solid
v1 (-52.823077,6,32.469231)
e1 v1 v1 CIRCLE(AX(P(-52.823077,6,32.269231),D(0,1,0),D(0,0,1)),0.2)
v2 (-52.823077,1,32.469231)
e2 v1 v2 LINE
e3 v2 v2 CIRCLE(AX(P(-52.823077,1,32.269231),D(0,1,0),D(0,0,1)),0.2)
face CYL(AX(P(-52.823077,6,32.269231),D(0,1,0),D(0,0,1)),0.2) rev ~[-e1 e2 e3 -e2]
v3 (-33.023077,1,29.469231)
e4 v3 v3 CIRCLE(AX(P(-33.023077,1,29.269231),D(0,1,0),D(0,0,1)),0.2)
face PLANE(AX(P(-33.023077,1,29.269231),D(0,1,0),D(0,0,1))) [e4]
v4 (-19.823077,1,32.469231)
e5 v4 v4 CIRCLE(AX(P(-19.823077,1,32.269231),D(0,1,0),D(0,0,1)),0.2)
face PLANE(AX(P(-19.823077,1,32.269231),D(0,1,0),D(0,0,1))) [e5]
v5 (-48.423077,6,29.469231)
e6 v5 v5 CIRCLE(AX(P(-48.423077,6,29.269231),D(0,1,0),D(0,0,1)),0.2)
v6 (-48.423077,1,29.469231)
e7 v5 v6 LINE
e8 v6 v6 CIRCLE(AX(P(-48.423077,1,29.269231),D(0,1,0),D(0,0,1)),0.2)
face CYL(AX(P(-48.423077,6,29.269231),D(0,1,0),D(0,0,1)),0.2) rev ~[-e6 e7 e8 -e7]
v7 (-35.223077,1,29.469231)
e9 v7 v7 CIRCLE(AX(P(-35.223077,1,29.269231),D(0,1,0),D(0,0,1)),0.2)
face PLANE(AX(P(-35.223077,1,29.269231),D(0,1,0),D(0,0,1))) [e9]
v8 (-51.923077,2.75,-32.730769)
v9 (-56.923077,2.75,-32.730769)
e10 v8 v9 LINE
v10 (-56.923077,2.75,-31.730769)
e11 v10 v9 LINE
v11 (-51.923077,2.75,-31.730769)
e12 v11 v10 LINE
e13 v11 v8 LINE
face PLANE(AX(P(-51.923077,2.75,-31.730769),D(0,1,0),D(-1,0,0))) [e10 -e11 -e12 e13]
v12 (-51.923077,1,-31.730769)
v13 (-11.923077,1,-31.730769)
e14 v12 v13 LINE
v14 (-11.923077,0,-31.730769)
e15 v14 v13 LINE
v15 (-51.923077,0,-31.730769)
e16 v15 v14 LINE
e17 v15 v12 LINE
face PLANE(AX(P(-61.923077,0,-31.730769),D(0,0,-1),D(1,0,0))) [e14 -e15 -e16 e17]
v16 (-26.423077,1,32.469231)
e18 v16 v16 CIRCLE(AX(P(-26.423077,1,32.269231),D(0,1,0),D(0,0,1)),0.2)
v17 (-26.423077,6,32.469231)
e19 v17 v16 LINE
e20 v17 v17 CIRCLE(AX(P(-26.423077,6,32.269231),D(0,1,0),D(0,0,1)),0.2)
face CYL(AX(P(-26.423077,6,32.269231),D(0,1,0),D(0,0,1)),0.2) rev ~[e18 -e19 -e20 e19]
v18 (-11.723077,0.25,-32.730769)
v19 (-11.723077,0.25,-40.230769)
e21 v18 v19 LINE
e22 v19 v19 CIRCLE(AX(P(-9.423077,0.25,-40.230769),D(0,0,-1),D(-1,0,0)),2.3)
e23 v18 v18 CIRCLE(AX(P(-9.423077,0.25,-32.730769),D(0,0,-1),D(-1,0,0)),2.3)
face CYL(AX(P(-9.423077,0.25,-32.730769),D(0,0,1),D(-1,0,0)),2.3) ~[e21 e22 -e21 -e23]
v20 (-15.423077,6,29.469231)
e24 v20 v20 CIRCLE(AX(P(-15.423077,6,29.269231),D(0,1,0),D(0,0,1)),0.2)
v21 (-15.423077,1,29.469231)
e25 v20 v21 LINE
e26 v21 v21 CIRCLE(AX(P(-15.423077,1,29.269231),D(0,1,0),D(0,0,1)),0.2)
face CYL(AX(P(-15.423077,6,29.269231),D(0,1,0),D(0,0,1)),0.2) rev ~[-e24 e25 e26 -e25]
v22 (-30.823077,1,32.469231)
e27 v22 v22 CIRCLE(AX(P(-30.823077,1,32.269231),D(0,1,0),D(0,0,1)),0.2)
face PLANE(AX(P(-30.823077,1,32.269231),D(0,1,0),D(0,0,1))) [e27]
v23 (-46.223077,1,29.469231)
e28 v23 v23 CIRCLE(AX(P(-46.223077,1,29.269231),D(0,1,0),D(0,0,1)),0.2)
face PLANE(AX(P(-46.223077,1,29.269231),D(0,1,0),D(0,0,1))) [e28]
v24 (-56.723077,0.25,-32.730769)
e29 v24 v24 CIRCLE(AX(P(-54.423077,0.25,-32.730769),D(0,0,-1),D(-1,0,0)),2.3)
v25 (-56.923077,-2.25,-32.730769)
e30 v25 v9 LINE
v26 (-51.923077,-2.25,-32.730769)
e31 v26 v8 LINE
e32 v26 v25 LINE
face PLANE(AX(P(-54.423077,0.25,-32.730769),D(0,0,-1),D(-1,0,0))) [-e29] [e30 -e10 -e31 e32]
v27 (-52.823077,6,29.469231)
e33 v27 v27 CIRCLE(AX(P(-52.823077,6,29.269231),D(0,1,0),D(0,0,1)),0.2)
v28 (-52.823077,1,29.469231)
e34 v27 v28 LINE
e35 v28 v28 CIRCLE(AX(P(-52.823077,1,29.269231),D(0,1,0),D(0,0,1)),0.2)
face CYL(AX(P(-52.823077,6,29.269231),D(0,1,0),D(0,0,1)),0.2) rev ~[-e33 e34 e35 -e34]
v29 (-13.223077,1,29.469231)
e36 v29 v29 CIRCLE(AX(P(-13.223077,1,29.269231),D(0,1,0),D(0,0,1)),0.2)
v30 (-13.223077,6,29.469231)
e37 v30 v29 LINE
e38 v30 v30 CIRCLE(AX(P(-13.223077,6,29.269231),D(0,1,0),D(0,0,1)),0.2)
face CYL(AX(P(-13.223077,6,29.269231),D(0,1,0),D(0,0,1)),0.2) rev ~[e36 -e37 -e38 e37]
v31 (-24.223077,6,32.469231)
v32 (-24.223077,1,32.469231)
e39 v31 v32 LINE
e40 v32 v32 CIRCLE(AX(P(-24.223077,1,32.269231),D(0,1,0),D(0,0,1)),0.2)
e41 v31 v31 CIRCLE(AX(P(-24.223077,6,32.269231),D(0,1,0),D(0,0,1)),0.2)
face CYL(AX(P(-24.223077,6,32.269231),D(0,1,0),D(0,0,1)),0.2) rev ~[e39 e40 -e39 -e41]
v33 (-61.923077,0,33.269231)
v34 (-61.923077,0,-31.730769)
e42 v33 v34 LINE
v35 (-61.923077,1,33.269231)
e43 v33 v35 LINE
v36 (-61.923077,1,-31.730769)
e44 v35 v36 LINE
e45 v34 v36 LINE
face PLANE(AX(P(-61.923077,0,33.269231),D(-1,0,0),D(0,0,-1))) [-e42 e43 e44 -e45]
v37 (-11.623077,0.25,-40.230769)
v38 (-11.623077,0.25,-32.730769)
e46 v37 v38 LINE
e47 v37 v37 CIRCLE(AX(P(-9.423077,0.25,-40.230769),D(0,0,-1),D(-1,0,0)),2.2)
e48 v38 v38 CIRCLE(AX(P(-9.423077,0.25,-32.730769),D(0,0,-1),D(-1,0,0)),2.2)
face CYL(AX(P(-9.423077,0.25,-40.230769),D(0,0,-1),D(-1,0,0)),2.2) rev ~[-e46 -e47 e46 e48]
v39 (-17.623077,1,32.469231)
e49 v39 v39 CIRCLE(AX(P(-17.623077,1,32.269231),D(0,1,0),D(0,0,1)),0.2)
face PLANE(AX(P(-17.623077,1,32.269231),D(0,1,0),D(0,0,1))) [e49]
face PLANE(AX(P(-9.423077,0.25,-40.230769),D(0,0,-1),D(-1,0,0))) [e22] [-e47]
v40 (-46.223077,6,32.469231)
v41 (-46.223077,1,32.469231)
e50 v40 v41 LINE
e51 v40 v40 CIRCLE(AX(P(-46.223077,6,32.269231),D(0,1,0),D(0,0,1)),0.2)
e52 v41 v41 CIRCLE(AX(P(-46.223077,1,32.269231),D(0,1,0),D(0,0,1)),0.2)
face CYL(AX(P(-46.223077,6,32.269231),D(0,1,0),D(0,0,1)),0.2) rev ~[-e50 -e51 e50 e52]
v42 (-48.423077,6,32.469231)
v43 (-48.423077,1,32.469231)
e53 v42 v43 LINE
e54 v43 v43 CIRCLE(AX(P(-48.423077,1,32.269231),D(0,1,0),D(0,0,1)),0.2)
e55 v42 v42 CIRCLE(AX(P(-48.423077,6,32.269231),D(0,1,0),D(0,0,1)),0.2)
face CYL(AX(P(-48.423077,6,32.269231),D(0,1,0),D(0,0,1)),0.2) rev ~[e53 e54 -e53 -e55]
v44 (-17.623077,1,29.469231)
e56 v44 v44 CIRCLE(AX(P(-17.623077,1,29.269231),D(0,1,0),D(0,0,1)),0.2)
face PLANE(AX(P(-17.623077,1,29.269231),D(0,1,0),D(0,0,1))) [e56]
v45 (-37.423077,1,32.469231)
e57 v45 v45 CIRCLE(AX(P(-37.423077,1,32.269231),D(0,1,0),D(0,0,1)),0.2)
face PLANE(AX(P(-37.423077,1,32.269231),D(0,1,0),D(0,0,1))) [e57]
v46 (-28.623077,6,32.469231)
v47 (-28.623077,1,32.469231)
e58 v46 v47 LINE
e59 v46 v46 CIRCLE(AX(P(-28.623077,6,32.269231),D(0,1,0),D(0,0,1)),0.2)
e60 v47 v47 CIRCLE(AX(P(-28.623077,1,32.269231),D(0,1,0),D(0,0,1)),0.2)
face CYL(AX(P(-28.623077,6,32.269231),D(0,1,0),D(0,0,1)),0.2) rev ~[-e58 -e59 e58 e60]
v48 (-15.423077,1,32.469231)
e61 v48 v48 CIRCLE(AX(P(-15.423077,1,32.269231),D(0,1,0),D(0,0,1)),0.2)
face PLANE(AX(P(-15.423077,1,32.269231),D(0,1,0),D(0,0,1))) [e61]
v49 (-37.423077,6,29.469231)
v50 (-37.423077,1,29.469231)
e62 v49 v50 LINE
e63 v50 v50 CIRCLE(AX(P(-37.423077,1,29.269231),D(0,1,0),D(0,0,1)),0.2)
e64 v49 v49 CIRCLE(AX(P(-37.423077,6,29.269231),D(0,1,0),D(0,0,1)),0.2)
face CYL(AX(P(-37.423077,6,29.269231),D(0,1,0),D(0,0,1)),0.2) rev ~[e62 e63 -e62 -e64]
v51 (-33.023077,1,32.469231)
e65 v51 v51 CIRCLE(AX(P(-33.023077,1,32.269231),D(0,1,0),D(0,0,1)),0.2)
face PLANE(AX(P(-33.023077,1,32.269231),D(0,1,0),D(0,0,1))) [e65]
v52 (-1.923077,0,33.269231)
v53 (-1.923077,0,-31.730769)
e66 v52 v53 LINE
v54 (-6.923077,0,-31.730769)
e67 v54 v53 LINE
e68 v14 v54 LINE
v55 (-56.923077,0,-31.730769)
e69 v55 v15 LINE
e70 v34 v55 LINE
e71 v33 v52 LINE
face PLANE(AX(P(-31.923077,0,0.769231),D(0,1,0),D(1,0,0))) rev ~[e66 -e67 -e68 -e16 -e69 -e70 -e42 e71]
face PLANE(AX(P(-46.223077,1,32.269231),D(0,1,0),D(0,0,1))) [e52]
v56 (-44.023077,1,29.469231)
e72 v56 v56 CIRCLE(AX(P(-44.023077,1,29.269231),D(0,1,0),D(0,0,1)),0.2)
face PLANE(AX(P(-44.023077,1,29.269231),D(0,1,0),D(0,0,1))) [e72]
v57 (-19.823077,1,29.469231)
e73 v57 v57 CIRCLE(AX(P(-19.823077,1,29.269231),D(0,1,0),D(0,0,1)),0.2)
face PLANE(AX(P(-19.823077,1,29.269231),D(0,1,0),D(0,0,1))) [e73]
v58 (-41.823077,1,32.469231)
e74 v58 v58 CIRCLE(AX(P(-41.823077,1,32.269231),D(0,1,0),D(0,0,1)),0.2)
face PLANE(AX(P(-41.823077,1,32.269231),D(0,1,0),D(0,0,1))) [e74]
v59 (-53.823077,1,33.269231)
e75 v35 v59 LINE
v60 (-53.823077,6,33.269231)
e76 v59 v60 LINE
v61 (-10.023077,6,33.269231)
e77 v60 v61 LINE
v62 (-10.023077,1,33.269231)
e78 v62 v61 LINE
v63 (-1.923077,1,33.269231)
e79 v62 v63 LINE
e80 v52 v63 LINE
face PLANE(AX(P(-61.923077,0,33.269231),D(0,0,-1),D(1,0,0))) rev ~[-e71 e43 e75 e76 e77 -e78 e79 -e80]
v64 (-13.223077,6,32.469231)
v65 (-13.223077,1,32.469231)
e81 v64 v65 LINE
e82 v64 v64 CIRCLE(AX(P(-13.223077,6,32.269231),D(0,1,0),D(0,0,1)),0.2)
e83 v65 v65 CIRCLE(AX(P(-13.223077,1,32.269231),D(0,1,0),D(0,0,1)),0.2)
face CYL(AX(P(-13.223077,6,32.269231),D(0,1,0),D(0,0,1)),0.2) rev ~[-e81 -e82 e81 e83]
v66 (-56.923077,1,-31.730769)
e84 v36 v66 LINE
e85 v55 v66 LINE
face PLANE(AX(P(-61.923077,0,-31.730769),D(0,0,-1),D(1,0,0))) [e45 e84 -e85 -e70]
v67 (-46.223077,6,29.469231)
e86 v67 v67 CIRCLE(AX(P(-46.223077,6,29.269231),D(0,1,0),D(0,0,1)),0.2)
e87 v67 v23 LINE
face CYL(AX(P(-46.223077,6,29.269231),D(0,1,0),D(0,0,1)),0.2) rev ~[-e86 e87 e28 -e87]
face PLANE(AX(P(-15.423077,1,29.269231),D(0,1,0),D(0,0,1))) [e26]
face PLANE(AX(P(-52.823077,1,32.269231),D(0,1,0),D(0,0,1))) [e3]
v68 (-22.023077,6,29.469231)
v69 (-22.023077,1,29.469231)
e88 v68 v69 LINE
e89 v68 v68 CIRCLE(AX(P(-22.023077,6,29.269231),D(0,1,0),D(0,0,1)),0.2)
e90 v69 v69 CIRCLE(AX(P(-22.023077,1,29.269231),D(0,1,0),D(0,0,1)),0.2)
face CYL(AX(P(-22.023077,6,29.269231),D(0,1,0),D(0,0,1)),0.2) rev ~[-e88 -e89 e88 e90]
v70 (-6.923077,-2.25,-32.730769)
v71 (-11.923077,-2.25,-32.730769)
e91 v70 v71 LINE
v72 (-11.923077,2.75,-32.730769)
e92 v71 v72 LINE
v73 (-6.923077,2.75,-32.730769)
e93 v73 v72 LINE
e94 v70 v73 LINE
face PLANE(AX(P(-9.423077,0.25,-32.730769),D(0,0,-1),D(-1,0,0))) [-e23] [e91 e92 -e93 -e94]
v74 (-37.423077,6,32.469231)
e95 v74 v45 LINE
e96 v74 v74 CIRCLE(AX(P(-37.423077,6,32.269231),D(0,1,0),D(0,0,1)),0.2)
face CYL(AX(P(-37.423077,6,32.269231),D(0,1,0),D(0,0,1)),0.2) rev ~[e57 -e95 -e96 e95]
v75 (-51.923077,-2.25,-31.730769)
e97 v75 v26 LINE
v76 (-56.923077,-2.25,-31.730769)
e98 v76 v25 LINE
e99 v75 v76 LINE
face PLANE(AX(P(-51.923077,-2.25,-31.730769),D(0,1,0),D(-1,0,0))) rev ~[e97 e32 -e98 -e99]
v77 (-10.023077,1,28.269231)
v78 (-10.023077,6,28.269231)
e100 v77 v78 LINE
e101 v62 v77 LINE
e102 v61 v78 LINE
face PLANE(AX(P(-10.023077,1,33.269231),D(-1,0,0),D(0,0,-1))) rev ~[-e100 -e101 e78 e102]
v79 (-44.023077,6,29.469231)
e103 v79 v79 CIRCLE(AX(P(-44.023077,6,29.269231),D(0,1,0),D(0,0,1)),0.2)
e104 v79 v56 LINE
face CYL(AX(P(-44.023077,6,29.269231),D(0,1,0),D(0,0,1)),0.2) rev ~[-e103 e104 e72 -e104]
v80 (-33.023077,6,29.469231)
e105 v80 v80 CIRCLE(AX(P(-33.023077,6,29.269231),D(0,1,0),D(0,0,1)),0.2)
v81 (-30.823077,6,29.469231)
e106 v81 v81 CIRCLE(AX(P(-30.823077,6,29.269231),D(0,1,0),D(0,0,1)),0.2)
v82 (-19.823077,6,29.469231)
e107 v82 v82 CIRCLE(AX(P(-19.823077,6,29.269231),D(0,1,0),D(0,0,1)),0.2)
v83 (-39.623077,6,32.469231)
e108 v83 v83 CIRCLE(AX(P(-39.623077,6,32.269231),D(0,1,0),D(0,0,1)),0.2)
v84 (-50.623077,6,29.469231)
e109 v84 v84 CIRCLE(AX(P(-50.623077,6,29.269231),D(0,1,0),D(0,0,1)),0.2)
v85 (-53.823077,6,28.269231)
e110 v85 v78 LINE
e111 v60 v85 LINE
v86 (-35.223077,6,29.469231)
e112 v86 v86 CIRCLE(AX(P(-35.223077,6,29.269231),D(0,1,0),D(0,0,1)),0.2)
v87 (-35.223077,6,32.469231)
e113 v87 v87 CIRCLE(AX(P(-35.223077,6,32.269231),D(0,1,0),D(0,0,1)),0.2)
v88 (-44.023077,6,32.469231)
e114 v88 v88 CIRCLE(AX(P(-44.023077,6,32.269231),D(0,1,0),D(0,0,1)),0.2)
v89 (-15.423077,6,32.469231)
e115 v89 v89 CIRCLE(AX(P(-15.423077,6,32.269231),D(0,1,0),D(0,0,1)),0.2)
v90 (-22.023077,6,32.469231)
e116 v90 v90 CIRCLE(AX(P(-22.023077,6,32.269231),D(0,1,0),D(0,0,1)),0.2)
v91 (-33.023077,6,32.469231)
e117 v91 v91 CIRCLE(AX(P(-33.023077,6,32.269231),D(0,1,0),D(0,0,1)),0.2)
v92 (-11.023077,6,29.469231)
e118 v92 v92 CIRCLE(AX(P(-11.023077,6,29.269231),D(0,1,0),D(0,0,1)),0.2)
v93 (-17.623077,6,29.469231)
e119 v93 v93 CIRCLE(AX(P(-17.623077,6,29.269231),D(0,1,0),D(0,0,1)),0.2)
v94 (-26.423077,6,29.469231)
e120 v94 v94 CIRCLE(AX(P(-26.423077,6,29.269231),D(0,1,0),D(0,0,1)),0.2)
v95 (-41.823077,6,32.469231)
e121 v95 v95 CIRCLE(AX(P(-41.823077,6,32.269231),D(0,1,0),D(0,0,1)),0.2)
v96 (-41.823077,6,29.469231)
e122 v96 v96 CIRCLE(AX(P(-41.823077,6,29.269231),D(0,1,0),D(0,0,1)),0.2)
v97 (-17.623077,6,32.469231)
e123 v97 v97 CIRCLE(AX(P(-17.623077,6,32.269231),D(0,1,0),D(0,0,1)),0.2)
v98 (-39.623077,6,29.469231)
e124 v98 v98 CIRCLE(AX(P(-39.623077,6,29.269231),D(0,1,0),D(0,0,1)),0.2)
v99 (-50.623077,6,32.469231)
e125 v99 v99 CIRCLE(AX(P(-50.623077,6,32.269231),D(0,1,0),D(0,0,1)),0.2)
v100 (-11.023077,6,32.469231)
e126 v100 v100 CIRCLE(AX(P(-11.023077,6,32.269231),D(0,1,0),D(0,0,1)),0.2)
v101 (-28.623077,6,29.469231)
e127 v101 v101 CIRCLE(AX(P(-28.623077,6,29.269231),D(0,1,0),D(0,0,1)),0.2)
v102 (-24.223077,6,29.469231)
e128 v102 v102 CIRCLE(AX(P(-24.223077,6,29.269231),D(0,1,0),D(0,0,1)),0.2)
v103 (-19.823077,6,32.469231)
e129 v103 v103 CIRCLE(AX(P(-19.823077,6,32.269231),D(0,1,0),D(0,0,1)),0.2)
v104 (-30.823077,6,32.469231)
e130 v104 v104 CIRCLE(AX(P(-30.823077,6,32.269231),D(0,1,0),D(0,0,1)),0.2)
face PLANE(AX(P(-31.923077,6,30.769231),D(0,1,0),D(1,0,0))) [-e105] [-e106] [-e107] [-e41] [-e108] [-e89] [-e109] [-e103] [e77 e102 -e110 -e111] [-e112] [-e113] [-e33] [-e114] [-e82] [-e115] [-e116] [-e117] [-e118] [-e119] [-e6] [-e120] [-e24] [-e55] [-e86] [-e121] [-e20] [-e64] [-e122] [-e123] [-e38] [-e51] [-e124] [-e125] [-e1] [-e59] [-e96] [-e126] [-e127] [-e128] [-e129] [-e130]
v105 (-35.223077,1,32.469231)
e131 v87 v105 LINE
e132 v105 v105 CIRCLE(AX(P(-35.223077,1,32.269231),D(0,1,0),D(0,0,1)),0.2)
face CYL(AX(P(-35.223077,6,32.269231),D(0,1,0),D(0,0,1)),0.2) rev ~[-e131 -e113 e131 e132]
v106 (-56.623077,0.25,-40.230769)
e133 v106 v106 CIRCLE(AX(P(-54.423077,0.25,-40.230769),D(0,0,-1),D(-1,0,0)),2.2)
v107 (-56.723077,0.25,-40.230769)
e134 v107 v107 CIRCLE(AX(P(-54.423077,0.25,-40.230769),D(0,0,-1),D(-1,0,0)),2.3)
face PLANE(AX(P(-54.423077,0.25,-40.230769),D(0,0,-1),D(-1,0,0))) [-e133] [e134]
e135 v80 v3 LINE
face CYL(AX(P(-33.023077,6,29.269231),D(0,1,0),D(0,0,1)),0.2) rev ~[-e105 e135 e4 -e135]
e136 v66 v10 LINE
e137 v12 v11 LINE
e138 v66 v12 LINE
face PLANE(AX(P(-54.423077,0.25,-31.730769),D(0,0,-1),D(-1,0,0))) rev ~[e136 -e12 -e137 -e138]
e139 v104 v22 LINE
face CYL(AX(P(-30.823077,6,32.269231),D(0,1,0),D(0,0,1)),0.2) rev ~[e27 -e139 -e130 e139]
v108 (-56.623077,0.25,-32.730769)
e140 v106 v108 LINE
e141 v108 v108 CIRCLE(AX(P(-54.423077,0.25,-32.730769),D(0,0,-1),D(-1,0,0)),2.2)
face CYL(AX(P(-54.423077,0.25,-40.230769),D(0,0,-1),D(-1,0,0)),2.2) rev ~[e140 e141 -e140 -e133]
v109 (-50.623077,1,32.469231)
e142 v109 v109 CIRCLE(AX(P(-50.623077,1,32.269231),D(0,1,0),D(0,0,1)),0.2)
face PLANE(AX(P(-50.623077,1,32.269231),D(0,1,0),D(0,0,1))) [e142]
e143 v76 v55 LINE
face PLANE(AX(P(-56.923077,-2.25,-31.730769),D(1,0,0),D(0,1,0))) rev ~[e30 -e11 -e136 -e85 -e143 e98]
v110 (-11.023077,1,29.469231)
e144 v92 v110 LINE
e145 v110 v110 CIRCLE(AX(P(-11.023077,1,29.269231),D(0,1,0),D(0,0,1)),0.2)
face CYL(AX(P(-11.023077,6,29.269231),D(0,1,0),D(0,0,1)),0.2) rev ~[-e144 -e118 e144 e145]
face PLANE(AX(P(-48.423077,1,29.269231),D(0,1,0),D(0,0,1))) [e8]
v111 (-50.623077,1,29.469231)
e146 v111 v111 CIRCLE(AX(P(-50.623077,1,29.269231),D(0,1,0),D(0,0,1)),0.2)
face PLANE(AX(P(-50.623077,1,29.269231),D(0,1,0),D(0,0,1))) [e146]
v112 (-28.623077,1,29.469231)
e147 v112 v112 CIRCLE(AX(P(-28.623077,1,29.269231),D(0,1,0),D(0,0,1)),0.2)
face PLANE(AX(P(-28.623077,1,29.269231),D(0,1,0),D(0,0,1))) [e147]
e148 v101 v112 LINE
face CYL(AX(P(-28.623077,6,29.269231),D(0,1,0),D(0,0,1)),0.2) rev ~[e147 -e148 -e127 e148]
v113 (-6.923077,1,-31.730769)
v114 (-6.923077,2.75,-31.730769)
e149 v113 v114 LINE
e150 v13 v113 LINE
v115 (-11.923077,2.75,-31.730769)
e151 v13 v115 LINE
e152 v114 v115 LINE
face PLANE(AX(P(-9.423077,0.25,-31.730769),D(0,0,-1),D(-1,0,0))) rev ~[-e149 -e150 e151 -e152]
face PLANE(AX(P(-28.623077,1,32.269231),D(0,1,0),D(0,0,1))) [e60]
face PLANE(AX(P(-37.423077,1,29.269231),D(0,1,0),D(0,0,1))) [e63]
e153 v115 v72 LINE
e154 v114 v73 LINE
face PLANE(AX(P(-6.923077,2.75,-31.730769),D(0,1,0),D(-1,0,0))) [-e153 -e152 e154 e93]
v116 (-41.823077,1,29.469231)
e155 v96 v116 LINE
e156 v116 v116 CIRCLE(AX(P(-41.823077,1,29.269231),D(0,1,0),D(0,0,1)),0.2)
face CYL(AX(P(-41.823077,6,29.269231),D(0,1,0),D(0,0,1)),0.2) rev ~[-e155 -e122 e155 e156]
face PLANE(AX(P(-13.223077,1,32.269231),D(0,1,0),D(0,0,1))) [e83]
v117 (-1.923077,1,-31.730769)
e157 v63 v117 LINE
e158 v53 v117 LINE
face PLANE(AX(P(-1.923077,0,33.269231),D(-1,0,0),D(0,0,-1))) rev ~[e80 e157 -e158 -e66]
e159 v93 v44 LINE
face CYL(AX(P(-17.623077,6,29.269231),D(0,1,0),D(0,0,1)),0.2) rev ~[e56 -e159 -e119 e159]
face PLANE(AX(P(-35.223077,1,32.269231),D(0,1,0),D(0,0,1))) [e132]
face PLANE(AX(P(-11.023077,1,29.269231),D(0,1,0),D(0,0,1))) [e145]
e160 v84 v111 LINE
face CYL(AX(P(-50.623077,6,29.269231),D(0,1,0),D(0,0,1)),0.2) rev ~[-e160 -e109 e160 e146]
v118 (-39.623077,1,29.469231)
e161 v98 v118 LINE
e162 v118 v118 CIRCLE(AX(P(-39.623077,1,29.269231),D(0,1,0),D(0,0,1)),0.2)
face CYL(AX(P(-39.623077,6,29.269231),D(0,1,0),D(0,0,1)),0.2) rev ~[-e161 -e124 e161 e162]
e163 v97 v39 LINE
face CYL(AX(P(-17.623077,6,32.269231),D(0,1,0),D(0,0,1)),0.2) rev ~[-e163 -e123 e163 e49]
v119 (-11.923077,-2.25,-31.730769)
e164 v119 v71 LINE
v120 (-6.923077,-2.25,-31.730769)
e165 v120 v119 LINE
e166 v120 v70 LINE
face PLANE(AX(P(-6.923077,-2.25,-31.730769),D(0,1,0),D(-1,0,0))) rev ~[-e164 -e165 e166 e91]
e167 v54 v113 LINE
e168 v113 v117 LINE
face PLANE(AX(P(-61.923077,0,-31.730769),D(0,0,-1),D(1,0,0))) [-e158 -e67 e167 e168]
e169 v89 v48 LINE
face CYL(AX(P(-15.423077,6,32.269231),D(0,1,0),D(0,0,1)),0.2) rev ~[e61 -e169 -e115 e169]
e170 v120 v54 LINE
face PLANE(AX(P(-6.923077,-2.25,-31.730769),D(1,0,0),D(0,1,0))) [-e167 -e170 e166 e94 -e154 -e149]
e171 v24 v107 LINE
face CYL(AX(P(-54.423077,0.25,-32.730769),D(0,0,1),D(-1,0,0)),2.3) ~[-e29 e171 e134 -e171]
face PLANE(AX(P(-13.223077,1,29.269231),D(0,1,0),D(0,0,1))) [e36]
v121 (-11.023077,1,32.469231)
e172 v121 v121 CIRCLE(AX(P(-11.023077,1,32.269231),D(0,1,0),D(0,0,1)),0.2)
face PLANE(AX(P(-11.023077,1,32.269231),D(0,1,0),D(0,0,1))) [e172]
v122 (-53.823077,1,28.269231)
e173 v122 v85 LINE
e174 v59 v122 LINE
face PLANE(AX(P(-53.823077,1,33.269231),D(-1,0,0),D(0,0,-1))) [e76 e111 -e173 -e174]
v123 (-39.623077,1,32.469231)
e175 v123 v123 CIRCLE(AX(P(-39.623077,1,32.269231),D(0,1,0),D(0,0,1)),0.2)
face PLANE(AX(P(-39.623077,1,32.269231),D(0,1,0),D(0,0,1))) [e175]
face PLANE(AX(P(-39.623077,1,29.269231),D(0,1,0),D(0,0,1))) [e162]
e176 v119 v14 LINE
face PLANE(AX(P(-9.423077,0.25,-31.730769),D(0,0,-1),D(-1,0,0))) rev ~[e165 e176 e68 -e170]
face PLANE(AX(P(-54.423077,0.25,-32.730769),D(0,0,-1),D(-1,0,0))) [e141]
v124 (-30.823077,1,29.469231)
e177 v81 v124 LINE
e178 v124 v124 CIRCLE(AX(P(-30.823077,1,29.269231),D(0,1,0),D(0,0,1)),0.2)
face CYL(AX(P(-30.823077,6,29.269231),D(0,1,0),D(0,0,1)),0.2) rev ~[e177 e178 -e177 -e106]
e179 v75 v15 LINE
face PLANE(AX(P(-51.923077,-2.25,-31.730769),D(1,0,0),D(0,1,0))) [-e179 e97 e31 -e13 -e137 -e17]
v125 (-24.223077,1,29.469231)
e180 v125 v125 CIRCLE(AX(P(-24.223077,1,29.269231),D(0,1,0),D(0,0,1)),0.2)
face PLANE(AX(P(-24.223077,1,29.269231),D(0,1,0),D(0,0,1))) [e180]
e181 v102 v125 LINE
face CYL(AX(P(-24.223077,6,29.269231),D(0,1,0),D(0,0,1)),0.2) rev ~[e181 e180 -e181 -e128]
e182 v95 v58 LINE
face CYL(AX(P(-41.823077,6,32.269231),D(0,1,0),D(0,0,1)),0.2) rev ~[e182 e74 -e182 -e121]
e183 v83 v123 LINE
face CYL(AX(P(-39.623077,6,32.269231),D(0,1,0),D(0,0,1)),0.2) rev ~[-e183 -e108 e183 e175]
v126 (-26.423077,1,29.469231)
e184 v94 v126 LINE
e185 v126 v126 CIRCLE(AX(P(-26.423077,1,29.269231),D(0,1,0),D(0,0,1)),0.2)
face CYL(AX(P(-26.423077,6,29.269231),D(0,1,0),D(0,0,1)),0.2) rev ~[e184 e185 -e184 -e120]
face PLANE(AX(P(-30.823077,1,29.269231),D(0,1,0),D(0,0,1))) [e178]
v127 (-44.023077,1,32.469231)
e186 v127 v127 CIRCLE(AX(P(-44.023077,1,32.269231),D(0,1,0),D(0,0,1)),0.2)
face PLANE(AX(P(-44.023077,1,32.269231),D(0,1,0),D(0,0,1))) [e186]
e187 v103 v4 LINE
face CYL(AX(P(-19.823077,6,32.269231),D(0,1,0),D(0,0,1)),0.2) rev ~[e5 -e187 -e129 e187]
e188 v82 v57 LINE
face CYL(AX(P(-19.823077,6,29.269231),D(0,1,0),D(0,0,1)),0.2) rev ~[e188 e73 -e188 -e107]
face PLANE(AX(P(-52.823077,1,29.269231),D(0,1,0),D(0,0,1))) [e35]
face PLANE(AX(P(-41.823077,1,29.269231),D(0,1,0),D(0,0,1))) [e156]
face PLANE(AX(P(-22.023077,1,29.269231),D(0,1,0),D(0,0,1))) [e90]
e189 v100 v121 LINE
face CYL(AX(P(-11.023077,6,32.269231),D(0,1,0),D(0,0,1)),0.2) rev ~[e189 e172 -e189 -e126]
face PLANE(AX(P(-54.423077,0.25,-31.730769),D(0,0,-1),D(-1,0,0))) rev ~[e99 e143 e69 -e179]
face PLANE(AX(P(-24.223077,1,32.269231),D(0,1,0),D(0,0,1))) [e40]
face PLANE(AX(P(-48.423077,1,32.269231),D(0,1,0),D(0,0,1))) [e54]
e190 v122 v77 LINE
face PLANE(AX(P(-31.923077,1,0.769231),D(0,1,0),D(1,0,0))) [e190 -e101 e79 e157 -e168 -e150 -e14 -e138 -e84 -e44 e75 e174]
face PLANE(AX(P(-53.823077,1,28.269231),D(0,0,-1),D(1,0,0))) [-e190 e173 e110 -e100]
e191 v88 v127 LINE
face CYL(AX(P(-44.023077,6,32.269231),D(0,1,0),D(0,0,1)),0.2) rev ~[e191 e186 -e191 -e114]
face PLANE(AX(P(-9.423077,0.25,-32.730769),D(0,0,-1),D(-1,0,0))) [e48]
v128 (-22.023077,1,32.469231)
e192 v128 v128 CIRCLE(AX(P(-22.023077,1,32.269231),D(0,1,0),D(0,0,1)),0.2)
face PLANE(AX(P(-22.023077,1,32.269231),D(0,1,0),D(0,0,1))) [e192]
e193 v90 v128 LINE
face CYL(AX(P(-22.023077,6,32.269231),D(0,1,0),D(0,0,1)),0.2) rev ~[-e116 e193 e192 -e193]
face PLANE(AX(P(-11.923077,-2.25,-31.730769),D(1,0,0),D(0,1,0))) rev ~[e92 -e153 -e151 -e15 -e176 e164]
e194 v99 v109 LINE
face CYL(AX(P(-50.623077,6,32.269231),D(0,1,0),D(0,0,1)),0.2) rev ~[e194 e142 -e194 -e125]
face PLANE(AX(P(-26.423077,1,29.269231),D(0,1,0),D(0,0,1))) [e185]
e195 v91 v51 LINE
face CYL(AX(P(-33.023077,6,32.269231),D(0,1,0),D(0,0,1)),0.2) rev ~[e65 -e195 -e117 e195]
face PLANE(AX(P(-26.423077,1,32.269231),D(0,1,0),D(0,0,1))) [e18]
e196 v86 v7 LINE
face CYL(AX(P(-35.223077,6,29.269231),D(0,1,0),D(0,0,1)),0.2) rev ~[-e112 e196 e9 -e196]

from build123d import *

# Parameters (mm, degrees)
SKETCH_1_W                  = 60
SKETCH_1_H                  = 65
EXTRUDE_1_DEPTH             = 1
SKETCH_7_W                  = 43.8
SKETCH_7_H                  = 5
EXTRUDE_3_DEPTH             = 5
SKETCH_8_R                  = 0.2
CUT_EXTRUDE_2_DEPTH         = 5
PATTERN_LINEAR_1_COUNT      = 20
PATTERN_LINEAR_1_PITCH      = 2.2
PATTERN_LINEAR_1_COUNT_DIR2 = 2
PATTERN_LINEAR_1_PITCH_DIR2 = 3
SKETCH_9_W                  = 5
SKETCH_9_H                  = 5
EXTRUDE_4_DEPTH             = 1
SKETCH_10_R                 = 2.3
EXTRUDE_5_DEPTH             = 7.5
SKETCH_11_R                 = 2.2
CUT_EXTRUDE_3_DEPTH         = 7.5
PATTERN_LINEAR_2_COUNT      = 2
PATTERN_LINEAR_2_PITCH      = 45


with BuildPart() as part:
    # 草图1 → 凸台-拉伸1 (new body)
    with BuildSketch(Plane(origin=(0, 0, 0), x_dir=(1, 0, 0), z_dir=(0, 1, 0))):
        with Locations((-31.923076923, -0.769230769)):
            Rectangle(SKETCH_1_W, SKETCH_1_H)
    extrude(amount=EXTRUDE_1_DEPTH)

    # 草图7 → 凸台-拉伸3 (add)
    with BuildSketch(Plane(origin=(0, 1, 0), x_dir=(1, 0, 0), z_dir=(0, 1, 0))):
        with Locations((-31.923076923, -30.769230769)):
            Rectangle(SKETCH_7_W, SKETCH_7_H)
    extrude(amount=EXTRUDE_3_DEPTH)

    # 草图8 → 切除-拉伸2 (cut)
    with BuildSketch(Plane(origin=(0, 6, 0), x_dir=(1, 0, 0), z_dir=(0, 1, 0))):
        with Locations(Location((-52.823076923, -29.269230769, 0), (0, 0, 270))):
            Circle(SKETCH_8_R)
    cut_extrude_2 = extrude(amount=-CUT_EXTRUDE_2_DEPTH, mode=Mode.SUBTRACT)

    # 阵列(线性)1: Cut-Extrude 2 20 × 2
    with Locations(*[(i * PATTERN_LINEAR_1_PITCH, 0, j * PATTERN_LINEAR_1_PITCH_DIR2) for i in range(PATTERN_LINEAR_1_COUNT) for j in range(PATTERN_LINEAR_1_COUNT_DIR2) if (i, j) != (0, 0)]):
        add(cut_extrude_2, mode=Mode.SUBTRACT)

    # 草图9 → 凸台-拉伸4 (add)
    with BuildSketch(Plane(origin=(0, 0, -31.730769231), x_dir=(-1, 0, 0), z_dir=(0, 0, -1))):
        with Locations((9.423076923, 0.25)):
            Rectangle(SKETCH_9_W, SKETCH_9_H)
    extrude_4 = extrude(amount=EXTRUDE_4_DEPTH)

    # 草图10 → 凸台-拉伸5 (add)
    with BuildSketch(Plane(origin=(0, 0, -32.730769231), x_dir=(-1, 0, 0), z_dir=(0, 0, -1))):
        with Locations((9.423076923, 0.25)):
            Circle(SKETCH_10_R)
    extrude_5 = extrude(amount=EXTRUDE_5_DEPTH)

    # 草图11 → 切除-拉伸3 (cut)
    with BuildSketch(Plane(origin=(0, 0, -40.230769231), x_dir=(-1, 0, 0), z_dir=(0, 0, -1))):
        with Locations((9.423076923, 0.25)):
            Circle(SKETCH_11_R)
    cut_extrude_3 = extrude(amount=-CUT_EXTRUDE_3_DEPTH, mode=Mode.SUBTRACT)

    # 阵列(线性)2: 凸台-拉伸4, 凸台-拉伸5, 切除-拉伸3 ×2
    with Locations(*[(-i * PATTERN_LINEAR_2_PITCH, 0, 0) for i in range(1, PATTERN_LINEAR_2_COUNT)]):
        add(extrude_4)
        add(extrude_5)
        add(cut_extrude_3, mode=Mode.SUBTRACT)


solid = part.part
